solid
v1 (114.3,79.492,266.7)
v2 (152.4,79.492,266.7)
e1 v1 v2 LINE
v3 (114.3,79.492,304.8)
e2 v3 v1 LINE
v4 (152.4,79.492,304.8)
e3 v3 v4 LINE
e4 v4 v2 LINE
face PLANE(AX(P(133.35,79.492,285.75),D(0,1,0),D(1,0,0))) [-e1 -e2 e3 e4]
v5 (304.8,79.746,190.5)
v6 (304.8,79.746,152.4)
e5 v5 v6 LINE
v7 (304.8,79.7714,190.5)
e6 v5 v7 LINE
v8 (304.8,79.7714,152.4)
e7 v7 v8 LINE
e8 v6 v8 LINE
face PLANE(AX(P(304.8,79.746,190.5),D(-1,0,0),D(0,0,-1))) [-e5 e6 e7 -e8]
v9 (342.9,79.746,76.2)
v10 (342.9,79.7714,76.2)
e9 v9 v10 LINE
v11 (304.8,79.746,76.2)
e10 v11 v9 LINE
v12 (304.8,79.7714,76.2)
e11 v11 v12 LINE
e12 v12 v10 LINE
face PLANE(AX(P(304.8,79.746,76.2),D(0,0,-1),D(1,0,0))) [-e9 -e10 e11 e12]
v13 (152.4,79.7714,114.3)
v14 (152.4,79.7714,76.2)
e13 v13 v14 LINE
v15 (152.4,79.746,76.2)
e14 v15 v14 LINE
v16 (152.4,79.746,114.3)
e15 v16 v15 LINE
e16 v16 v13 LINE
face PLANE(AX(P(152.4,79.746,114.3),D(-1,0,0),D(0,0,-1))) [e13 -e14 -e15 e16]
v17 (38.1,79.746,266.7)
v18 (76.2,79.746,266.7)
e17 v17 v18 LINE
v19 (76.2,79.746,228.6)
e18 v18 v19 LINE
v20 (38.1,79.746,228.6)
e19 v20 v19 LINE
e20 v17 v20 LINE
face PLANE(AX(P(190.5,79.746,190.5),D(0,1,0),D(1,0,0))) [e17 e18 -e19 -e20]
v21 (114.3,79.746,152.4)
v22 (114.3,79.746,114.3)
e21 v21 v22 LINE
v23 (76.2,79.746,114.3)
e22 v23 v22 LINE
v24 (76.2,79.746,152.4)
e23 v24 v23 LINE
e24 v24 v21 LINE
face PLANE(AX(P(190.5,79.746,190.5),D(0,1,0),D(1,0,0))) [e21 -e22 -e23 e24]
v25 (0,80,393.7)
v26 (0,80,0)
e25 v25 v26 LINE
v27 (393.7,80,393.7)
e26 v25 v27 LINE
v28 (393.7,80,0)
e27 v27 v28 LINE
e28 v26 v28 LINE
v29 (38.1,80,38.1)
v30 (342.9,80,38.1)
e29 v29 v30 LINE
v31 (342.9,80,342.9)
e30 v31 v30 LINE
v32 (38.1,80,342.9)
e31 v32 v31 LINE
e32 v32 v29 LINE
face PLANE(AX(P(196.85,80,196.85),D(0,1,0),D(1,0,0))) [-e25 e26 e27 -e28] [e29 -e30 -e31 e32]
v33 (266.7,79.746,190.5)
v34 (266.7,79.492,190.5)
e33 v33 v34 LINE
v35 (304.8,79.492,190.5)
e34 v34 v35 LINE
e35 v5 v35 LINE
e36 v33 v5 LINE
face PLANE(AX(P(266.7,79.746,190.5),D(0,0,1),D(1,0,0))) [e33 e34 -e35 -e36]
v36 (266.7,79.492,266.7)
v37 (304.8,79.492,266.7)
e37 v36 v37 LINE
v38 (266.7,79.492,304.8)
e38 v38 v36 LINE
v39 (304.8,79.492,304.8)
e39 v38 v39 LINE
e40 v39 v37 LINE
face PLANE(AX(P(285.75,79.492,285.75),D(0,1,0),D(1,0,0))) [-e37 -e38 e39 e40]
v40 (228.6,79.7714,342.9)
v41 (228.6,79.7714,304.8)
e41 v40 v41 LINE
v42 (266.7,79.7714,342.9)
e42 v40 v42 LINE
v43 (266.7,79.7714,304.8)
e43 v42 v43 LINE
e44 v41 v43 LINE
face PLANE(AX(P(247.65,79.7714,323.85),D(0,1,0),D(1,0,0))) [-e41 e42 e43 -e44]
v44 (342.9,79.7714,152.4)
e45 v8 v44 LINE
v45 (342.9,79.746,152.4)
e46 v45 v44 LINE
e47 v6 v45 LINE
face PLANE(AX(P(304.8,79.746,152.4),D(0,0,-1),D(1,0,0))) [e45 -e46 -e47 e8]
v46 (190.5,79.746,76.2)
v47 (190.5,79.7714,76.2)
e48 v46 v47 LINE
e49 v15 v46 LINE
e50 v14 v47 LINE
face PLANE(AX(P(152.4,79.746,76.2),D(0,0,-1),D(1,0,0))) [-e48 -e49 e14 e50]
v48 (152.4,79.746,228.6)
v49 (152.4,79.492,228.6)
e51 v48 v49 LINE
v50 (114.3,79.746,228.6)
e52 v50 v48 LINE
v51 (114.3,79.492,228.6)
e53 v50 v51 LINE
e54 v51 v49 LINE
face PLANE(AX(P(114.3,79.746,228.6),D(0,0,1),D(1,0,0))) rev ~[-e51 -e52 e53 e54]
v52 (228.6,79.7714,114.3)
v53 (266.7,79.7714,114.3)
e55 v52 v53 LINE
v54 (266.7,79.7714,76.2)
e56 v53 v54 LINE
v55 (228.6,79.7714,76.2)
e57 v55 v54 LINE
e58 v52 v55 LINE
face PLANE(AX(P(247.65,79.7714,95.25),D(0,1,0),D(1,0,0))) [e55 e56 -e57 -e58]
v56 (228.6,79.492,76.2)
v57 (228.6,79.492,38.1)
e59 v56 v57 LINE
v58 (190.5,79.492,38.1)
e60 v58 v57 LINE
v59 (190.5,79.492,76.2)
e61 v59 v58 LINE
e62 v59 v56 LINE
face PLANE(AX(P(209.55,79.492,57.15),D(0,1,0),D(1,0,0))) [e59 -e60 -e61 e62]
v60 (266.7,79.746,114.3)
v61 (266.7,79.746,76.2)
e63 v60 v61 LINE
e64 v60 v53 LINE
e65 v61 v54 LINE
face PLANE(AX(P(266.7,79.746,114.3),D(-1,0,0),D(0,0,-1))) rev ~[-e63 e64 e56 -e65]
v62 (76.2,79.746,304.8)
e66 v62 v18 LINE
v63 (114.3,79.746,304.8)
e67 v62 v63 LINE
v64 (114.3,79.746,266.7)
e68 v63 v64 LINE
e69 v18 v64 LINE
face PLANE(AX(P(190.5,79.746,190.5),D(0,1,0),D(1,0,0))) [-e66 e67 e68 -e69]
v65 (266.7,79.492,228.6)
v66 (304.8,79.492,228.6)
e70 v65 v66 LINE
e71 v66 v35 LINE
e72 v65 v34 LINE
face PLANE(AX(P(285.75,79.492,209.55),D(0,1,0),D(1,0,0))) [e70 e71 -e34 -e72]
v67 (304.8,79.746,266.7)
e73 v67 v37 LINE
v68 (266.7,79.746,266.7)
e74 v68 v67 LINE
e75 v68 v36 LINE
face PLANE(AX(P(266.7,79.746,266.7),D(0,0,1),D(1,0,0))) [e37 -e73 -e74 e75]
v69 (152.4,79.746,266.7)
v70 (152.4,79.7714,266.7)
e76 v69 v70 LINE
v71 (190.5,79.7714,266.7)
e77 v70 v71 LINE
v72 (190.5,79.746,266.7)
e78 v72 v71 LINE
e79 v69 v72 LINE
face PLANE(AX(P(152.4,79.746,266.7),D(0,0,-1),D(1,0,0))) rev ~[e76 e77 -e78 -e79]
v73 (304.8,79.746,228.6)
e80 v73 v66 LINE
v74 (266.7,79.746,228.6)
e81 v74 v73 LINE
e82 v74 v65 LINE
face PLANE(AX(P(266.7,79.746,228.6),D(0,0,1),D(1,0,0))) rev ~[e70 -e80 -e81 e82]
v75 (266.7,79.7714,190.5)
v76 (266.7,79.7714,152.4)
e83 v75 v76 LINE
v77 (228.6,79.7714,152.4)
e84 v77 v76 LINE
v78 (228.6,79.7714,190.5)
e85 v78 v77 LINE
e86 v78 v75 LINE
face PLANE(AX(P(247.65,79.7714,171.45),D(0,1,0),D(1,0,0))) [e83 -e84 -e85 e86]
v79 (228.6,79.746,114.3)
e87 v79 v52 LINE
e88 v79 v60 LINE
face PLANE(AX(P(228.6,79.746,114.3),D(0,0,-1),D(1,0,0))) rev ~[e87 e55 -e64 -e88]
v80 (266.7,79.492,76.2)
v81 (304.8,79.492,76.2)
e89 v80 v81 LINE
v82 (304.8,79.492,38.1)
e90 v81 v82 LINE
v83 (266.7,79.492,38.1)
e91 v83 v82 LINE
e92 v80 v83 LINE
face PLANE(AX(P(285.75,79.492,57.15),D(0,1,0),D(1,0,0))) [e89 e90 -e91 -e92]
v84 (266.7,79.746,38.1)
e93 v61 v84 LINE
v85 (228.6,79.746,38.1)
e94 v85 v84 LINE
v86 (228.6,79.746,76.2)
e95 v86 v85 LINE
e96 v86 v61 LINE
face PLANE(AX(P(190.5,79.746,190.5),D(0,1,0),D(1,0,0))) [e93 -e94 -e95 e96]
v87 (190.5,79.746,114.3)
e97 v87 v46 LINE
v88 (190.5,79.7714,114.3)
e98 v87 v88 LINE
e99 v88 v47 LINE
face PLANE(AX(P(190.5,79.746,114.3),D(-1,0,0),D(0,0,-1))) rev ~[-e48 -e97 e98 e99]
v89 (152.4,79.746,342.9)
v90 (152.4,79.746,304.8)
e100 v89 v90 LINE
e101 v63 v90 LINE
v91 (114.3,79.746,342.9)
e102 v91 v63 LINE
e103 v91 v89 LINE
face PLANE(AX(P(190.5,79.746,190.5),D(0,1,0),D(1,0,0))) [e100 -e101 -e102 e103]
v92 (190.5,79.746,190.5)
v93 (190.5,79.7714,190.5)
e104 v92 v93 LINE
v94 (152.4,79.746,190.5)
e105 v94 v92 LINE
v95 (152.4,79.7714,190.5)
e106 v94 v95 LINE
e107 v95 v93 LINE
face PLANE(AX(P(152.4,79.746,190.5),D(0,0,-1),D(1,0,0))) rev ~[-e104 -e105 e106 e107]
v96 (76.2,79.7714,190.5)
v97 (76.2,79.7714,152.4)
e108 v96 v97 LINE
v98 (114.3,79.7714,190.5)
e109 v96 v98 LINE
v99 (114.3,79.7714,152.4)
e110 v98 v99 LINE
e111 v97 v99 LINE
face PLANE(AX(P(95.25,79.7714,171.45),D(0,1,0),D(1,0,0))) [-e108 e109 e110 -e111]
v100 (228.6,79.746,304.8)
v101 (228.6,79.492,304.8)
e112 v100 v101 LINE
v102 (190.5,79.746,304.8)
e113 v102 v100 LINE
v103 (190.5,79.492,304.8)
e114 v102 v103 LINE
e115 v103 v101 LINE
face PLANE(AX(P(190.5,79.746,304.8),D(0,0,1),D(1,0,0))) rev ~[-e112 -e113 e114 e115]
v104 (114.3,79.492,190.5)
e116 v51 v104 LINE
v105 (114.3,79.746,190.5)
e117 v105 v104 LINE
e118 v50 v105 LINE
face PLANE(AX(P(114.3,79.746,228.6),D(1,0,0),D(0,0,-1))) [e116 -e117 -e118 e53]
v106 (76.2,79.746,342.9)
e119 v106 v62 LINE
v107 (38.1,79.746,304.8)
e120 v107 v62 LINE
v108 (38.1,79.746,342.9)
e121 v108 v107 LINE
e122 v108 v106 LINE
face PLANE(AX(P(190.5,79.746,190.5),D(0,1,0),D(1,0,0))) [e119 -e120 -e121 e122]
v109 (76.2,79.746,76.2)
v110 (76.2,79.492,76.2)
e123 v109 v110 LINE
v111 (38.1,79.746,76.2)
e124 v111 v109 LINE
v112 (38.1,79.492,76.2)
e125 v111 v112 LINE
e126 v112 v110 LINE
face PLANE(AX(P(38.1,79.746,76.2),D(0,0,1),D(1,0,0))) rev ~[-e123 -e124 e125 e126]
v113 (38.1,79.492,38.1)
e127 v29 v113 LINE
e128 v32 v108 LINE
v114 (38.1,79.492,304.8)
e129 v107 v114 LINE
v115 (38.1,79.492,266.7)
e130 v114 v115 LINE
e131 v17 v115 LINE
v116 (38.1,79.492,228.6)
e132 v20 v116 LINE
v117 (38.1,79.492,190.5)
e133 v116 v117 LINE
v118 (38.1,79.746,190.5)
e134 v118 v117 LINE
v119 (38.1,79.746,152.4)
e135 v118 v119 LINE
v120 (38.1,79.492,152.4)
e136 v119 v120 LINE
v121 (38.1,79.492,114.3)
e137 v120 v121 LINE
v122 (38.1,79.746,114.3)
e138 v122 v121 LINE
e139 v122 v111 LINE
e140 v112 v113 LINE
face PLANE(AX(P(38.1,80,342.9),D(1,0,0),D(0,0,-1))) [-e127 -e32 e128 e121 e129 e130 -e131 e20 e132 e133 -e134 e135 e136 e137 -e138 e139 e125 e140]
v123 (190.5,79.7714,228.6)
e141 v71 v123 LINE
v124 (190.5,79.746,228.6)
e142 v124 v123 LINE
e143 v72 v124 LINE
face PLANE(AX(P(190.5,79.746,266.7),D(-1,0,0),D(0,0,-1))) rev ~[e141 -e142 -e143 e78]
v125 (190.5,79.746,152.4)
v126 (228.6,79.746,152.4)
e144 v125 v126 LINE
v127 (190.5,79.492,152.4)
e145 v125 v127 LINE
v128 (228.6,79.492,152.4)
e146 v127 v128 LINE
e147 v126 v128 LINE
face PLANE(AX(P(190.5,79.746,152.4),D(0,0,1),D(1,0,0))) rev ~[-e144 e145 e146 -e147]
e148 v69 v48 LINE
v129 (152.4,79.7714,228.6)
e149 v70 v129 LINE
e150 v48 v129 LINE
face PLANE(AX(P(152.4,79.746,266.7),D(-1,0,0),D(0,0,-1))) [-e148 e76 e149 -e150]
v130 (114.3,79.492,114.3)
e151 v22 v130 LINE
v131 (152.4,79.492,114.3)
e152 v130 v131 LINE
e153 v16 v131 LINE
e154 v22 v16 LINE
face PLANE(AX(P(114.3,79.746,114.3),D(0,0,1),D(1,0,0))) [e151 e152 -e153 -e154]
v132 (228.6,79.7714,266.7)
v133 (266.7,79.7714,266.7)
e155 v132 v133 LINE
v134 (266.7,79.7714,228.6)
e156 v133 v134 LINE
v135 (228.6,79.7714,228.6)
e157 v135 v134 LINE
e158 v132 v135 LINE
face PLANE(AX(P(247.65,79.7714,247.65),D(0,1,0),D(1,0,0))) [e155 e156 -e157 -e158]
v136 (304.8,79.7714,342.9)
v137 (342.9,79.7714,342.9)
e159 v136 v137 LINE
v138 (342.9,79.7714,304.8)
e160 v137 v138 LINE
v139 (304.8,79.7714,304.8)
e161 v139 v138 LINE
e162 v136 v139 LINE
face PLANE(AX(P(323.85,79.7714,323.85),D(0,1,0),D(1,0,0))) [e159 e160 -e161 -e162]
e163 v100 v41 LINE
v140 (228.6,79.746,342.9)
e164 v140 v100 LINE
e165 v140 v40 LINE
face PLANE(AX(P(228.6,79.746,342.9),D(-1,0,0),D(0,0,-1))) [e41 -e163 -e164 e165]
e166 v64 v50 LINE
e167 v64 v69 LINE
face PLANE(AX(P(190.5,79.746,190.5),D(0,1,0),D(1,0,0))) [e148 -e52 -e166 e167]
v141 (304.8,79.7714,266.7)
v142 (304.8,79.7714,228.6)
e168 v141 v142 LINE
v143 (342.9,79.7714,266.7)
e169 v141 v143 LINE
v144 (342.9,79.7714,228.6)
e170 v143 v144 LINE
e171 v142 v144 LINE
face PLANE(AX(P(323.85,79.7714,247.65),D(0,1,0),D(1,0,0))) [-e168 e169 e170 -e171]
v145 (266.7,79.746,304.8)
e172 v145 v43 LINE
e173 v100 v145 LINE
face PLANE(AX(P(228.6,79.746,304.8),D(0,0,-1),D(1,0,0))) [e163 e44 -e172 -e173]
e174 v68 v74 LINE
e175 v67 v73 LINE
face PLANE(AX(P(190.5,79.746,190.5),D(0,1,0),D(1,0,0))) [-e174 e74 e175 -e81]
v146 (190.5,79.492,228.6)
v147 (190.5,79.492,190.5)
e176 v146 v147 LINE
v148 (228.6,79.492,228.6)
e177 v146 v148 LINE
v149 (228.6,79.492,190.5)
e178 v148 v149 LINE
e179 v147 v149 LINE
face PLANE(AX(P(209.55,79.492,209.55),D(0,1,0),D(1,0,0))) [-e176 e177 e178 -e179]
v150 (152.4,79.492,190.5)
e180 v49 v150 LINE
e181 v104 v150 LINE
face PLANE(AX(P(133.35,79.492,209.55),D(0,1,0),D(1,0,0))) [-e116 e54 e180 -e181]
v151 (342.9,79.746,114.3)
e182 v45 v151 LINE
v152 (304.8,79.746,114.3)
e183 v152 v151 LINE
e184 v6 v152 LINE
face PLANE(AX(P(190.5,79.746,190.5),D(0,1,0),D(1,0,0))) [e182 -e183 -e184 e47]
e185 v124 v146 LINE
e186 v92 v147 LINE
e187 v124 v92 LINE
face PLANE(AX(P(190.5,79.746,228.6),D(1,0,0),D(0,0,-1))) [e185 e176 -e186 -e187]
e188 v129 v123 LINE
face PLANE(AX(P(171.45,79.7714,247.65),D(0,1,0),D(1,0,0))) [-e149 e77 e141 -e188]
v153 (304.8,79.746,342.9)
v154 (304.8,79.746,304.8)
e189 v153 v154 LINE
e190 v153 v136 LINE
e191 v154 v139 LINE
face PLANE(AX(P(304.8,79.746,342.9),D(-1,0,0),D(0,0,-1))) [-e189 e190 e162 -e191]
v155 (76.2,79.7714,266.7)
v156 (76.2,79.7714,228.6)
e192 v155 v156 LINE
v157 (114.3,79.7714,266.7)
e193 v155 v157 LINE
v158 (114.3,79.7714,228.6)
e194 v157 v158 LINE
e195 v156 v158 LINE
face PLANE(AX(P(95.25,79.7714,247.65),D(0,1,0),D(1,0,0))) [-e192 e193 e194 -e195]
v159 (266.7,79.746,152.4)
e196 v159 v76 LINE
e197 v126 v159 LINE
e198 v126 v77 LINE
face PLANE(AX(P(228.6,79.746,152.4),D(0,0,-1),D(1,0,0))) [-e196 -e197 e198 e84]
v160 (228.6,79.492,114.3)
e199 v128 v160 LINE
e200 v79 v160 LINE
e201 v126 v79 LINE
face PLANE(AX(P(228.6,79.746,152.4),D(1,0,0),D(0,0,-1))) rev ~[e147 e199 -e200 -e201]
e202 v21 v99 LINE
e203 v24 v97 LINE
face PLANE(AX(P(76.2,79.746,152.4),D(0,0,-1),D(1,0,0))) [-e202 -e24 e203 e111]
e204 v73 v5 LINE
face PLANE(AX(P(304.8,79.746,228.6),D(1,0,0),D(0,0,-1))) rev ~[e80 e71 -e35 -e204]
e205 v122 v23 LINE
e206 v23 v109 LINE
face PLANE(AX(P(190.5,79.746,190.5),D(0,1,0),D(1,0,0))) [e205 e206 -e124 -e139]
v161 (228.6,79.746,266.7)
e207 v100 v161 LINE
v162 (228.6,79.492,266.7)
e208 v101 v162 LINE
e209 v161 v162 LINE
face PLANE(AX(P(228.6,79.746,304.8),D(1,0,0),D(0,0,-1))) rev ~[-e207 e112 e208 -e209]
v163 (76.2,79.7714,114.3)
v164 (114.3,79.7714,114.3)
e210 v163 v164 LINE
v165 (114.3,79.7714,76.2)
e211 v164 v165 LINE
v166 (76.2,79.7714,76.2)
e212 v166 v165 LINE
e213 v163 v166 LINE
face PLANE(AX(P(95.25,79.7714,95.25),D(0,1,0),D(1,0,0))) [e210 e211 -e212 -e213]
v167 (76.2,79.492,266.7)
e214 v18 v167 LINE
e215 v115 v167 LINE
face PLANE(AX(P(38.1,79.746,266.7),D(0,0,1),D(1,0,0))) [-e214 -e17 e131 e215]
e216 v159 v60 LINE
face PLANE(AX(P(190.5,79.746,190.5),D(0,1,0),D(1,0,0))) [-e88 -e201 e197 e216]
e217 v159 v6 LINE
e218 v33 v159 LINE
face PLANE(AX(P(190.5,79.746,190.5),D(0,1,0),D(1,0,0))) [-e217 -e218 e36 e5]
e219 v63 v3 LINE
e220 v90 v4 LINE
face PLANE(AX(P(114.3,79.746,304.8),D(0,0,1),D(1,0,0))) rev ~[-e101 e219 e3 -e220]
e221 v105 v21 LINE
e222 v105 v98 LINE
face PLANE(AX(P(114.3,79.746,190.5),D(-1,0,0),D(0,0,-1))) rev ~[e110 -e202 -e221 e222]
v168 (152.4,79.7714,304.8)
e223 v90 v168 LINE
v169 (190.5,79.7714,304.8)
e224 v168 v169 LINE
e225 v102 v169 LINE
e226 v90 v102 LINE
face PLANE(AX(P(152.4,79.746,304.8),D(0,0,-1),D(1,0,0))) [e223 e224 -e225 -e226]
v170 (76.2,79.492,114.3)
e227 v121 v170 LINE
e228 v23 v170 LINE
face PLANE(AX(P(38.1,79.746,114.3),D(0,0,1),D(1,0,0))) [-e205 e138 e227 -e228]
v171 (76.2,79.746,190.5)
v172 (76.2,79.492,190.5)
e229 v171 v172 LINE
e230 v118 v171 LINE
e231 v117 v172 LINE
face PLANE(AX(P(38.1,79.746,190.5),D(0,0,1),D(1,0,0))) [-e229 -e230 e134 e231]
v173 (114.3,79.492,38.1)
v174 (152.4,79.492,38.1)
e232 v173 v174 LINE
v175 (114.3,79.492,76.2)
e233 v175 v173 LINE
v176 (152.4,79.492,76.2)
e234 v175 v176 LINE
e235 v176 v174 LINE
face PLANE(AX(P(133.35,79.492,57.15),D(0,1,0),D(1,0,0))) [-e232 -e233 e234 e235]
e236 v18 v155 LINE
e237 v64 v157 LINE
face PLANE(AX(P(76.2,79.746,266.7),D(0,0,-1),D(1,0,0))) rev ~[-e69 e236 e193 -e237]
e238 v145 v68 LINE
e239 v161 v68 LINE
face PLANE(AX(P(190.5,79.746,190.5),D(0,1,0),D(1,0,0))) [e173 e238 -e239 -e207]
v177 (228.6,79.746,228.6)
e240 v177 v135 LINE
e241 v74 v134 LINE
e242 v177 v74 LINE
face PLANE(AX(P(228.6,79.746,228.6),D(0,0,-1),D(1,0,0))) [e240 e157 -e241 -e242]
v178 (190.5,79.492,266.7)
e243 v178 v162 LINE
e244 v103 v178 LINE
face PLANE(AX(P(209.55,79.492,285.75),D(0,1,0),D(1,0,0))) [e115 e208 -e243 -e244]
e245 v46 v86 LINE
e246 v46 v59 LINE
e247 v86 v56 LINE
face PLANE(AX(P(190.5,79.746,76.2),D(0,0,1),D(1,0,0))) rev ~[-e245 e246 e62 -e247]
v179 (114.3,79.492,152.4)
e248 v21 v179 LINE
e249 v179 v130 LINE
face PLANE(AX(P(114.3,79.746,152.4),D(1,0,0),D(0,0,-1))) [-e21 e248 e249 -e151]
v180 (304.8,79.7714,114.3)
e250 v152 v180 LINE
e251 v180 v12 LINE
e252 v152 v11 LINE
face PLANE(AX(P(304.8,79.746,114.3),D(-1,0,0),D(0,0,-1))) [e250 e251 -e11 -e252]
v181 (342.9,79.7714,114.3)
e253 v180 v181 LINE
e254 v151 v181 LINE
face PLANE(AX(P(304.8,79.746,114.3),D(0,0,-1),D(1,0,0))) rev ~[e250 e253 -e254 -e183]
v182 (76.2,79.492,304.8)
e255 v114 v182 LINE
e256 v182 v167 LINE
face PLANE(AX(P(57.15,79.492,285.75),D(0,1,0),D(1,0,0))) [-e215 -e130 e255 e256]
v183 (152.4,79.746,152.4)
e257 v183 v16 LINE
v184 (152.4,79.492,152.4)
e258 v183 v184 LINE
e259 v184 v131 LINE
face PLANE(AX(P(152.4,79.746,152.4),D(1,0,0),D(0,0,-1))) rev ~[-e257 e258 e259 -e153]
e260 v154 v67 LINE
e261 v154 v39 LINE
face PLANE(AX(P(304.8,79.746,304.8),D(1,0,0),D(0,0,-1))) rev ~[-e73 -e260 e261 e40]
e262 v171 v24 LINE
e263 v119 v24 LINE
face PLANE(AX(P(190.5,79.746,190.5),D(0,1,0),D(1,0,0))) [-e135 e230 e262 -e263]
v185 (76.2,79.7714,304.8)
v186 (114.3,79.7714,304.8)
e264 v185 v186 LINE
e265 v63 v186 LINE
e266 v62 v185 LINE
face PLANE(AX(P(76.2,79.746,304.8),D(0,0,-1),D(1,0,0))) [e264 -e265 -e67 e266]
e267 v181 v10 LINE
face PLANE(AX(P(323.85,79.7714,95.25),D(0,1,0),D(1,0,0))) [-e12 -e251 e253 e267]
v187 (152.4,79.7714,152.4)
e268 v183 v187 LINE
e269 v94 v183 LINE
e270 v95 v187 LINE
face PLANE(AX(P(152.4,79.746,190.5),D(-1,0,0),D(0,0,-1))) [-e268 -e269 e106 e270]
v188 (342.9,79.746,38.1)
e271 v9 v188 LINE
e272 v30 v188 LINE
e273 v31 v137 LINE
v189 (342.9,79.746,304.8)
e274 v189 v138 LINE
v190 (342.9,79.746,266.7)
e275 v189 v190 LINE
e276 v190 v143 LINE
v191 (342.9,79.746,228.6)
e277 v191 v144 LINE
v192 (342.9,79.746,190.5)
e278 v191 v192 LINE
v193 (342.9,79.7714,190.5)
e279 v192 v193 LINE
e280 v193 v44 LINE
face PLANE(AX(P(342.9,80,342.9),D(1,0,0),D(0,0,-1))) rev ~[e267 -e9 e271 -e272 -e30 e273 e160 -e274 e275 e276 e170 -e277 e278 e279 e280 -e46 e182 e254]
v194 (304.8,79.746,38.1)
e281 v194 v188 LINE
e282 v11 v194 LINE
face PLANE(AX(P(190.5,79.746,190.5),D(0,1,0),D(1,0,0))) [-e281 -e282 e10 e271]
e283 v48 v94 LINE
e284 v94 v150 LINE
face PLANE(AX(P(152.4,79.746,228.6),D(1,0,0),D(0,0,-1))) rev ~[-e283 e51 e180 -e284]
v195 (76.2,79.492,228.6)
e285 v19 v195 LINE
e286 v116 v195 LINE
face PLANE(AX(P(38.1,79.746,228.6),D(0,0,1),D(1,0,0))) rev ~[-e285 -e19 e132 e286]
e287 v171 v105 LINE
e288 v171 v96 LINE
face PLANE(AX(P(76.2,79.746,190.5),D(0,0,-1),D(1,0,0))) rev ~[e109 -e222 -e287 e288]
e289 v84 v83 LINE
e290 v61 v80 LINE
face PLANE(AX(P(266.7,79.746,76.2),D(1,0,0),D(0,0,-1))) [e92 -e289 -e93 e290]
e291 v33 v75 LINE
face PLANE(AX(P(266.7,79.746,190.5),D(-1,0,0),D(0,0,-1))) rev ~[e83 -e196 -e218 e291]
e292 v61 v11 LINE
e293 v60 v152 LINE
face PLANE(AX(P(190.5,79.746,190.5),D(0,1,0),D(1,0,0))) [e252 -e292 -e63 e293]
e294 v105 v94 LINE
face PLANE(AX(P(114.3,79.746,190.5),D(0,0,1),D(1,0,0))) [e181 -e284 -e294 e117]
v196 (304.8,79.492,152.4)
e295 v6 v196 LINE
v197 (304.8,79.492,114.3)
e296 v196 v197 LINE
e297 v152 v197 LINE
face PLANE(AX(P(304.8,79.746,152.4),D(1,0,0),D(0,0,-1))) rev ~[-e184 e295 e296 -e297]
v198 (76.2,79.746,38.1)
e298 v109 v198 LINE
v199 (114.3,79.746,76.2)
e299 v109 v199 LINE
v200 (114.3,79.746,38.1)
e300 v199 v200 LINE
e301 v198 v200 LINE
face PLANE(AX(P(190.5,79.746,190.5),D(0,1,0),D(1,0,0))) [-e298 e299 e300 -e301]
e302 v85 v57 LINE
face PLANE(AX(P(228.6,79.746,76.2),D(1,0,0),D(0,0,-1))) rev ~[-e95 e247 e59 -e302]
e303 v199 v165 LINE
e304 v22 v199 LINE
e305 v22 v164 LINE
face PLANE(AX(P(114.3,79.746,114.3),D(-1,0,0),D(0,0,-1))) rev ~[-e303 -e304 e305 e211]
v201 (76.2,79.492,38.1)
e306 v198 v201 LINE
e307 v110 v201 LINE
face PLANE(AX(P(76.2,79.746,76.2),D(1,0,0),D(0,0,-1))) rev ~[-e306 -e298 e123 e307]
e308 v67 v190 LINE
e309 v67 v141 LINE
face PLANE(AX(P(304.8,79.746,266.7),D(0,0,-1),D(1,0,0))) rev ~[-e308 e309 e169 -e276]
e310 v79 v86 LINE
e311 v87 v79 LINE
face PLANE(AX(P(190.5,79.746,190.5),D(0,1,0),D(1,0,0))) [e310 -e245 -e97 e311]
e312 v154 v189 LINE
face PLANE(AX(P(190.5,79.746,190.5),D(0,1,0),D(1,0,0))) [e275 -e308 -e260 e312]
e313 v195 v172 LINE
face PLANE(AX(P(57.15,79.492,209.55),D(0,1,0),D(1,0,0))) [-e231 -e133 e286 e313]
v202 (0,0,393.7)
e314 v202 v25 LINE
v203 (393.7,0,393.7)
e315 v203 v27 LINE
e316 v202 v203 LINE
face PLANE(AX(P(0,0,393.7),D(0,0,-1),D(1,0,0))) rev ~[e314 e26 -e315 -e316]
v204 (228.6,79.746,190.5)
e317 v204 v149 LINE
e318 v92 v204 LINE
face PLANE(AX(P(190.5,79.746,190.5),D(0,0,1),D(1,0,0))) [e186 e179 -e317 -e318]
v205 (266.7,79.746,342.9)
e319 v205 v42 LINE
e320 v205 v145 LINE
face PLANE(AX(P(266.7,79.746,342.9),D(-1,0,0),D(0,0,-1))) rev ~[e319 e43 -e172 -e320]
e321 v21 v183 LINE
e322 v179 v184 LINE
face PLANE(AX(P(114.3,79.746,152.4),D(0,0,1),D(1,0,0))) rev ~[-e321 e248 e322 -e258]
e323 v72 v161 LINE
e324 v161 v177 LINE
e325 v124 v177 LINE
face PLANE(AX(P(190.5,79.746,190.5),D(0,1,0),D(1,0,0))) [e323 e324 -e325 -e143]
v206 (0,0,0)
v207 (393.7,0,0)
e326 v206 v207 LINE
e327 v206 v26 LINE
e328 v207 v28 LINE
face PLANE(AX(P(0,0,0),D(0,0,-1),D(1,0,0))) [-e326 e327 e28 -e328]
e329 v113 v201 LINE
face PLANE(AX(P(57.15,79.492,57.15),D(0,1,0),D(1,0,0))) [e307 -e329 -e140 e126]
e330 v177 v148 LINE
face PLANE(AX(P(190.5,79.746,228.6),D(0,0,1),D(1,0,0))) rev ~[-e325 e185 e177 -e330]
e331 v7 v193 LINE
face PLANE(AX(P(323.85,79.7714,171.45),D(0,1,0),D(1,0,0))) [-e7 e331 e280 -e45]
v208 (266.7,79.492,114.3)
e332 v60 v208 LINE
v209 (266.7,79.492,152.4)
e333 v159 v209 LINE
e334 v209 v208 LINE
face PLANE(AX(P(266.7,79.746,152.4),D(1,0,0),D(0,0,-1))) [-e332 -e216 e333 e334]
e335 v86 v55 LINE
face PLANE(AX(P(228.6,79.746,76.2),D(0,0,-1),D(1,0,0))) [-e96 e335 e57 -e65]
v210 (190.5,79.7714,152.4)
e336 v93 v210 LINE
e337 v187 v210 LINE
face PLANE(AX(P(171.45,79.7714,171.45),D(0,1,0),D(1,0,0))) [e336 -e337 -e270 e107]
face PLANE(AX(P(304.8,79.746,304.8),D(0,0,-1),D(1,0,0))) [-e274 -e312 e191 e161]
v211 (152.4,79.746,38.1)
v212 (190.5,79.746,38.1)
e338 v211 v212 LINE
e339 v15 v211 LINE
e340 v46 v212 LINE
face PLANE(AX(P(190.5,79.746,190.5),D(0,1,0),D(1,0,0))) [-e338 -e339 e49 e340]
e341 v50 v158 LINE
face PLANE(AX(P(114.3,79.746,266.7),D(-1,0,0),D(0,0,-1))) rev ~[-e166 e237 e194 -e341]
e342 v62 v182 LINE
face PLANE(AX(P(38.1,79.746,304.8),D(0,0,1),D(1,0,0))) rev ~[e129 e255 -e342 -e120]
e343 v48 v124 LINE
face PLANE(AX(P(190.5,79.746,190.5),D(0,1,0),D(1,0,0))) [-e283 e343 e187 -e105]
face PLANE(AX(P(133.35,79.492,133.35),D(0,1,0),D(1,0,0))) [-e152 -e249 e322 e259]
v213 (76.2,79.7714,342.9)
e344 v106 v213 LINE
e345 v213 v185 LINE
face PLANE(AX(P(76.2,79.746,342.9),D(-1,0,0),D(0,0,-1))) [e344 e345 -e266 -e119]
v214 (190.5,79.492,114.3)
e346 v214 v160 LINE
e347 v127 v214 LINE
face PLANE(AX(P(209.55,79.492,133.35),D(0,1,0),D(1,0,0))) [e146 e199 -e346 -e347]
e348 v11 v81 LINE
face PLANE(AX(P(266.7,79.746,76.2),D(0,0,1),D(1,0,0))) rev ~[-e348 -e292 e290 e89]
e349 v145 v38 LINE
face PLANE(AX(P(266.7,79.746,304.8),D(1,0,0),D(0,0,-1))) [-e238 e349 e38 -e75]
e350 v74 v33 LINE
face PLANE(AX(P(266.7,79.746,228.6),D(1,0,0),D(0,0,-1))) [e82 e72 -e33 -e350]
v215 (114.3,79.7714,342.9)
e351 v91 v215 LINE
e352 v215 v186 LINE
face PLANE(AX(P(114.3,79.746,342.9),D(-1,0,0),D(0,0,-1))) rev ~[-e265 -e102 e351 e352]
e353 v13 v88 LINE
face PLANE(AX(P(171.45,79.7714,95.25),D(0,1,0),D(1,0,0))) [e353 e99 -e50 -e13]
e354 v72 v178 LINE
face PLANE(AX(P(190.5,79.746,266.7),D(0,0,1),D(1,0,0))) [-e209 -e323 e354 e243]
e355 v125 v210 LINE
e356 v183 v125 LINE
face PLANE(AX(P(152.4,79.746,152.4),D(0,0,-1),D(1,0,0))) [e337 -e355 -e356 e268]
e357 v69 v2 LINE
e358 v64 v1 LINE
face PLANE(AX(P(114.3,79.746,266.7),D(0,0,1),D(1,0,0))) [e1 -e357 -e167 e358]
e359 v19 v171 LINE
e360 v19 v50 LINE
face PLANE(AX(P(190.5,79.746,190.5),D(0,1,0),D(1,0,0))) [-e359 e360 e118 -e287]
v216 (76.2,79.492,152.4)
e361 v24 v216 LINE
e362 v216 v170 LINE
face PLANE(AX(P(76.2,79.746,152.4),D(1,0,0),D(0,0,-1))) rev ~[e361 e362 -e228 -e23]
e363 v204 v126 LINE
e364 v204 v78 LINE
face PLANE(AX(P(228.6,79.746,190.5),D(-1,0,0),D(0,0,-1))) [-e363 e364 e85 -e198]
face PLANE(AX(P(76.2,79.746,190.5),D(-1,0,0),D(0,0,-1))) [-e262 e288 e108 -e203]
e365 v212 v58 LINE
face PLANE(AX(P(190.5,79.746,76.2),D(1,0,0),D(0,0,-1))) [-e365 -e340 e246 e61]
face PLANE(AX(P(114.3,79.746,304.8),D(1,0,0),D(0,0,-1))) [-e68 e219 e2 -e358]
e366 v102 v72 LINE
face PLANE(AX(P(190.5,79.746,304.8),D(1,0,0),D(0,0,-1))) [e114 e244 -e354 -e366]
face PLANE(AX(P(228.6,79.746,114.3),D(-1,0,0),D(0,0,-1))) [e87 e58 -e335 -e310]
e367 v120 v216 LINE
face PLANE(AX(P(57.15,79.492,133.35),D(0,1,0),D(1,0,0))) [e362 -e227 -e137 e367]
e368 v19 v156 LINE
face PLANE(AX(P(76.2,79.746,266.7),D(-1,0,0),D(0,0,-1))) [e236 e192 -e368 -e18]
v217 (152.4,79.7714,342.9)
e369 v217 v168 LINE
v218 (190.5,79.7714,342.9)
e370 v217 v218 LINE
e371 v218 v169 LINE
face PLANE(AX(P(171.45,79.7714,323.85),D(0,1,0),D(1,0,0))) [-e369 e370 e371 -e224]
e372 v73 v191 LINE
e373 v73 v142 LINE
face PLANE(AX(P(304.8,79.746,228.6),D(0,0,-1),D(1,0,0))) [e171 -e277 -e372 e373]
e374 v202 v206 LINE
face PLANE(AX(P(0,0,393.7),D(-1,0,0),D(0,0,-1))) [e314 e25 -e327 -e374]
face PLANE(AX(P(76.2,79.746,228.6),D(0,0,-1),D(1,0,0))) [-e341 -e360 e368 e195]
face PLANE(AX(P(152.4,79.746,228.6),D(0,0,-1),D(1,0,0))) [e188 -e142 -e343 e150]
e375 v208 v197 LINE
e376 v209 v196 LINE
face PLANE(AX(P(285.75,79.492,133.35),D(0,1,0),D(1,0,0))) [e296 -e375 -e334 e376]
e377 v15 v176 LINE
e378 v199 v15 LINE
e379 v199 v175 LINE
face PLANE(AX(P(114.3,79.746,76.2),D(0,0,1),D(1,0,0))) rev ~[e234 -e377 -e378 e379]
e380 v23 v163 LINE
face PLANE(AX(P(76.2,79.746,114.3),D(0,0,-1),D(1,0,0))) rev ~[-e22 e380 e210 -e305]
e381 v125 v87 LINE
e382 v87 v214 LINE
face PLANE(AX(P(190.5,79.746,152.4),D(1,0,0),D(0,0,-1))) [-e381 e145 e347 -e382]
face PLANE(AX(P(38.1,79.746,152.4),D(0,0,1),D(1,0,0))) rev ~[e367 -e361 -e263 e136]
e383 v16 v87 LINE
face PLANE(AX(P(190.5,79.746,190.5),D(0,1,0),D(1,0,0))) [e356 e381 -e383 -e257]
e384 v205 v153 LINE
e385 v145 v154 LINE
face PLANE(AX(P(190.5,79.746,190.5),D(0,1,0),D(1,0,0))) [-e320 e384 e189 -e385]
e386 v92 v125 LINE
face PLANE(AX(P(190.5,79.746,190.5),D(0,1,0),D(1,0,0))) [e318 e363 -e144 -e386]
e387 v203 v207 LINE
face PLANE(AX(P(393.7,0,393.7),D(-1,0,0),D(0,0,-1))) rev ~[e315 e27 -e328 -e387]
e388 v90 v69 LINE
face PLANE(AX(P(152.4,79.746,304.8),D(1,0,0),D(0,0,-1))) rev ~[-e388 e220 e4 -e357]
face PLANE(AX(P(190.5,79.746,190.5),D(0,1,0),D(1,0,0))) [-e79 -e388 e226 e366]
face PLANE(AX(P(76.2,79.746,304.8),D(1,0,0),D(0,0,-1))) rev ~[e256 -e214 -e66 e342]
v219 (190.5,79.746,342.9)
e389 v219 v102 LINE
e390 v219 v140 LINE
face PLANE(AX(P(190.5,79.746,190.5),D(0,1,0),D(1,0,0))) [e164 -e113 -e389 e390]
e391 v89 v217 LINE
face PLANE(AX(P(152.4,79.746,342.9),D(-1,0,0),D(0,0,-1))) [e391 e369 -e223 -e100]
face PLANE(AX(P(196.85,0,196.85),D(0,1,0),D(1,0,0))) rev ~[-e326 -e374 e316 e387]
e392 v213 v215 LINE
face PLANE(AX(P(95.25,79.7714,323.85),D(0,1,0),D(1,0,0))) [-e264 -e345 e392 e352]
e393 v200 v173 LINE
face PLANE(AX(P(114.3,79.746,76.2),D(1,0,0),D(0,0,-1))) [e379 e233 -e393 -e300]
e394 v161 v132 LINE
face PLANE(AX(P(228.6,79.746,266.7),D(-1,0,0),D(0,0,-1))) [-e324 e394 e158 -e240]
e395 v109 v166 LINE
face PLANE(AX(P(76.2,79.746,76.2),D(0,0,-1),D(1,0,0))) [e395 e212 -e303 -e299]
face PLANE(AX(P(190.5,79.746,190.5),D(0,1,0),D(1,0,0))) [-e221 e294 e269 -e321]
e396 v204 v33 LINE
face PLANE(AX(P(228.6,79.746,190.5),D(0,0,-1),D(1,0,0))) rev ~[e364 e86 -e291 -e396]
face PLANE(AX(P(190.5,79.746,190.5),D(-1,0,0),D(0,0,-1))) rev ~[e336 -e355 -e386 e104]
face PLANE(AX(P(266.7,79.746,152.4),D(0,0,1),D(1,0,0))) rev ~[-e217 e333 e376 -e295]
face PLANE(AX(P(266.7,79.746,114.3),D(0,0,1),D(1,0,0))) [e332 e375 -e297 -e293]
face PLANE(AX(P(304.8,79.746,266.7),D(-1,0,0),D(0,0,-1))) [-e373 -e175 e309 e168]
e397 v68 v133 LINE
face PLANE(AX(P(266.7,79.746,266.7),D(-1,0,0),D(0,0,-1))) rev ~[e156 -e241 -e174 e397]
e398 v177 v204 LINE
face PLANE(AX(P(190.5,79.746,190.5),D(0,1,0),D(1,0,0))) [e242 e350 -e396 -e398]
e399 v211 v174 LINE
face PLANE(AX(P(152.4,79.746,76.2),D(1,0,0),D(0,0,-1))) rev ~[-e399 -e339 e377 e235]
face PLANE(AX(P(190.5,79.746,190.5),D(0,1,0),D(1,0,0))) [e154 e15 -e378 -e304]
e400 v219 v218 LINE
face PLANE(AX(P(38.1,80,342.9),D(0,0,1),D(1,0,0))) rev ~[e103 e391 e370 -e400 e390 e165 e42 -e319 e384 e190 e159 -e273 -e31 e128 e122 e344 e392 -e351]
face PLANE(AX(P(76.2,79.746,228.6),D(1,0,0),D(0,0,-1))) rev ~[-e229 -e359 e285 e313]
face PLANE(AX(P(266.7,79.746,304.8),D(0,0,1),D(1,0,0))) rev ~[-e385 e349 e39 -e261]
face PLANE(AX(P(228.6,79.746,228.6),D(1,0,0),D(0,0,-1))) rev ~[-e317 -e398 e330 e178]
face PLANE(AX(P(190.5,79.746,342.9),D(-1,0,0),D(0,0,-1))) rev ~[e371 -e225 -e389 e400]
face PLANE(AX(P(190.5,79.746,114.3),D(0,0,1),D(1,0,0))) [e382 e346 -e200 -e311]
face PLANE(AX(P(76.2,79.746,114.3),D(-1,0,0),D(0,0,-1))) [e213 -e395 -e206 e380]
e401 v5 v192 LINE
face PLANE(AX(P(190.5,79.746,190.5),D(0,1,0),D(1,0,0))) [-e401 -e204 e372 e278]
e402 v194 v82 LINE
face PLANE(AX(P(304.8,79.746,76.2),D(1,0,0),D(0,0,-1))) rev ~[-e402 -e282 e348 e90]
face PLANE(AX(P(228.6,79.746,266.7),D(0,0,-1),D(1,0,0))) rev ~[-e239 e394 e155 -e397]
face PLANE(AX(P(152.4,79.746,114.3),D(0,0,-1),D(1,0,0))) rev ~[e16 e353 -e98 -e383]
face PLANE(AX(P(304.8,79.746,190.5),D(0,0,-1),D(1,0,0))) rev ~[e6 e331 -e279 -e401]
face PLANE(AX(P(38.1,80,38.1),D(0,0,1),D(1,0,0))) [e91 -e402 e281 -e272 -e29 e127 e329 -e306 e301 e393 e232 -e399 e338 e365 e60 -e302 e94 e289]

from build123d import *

# Parameters (mm, degrees)
SKETCH1_W                       = 393.7
SKETCH1_H                       = 393.7
BOSS_EXTRUDE1_DEPTH             = 80
ESQUISSE1_W                     = 304.8
ESQUISSE1_H                     = 304.8
ENL_V_MAT_EXTRU_1_DEPTH         = 0.254
ESQUISSE4_W                     = 38.1
ESQUISSE4_H                     = 38.1
ENL_V_MAT_EXTRU_2_DEPTH         = 0.254
R_P_TITION_LIN_AIRE1_COUNT      = 4
R_P_TITION_LIN_AIRE1_PITCH      = 76.2
R_P_TITION_LIN_AIRE1_COUNT_DIR2 = 4
R_P_TITION_LIN_AIRE1_PITCH_DIR2 = 76.2
ESQUISSE5_W                     = 38.1
ESQUISSE5_H                     = 38.1
BOSS_EXTRU_1_DEPTH              = 0.0254
R_P_TITION_LIN_AIRE2_COUNT      = 4
R_P_TITION_LIN_AIRE2_PITCH      = 76.2
R_P_TITION_LIN_AIRE2_COUNT_DIR2 = 4
R_P_TITION_LIN_AIRE2_PITCH_DIR2 = 76.2


with BuildPart() as part:
    # Sketch1 → Boss-Extrude1 (new body)
    with BuildSketch(Plane(origin=(0, 0, 0), x_dir=(1, 0, 0), z_dir=(0, 1, 0))):
        with Locations((196.85, -196.85)):
            Rectangle(SKETCH1_W, SKETCH1_H)
    extrude(amount=BOSS_EXTRUDE1_DEPTH)

    # Esquisse1 → Enlèv. mat.-Extru.1 (cut)
    with BuildSketch(Plane(origin=(0, 80, 0), x_dir=(1, 0, 0), z_dir=(0, 1, 0))):
        with Locations((190.5, -190.5)):
            Rectangle(ESQUISSE1_W, ESQUISSE1_H)
    extrude(amount=-ENL_V_MAT_EXTRU_1_DEPTH, mode=Mode.SUBTRACT)

    # Esquisse4 → Enlèv. mat.-Extru.2 (cut)
    with BuildSketch(Plane(origin=(0, 79.746, 0), x_dir=(1, 0, 0), z_dir=(0, 1, 0))):
        with Locations((57.15, -57.15)):
            Rectangle(ESQUISSE4_W, ESQUISSE4_H)
    enl_v_mat_extru_2 = extrude(amount=-ENL_V_MAT_EXTRU_2_DEPTH, mode=Mode.SUBTRACT)

    # Répétition linéaire1: Enl_v. mat.-Extru.2 4 × 4
    with Locations(*[(i * R_P_TITION_LIN_AIRE1_PITCH, 0, j * R_P_TITION_LIN_AIRE1_PITCH_DIR2) for i in range(R_P_TITION_LIN_AIRE1_COUNT) for j in range(R_P_TITION_LIN_AIRE1_COUNT_DIR2) if (i, j) != (0, 0)]):
        add(enl_v_mat_extru_2, mode=Mode.SUBTRACT)

    # Esquisse5 → Boss.-Extru.1 (add)
    with BuildSketch(Plane(origin=(0, 79.746, 0), x_dir=(1, 0, 0), z_dir=(0, 1, 0))):
        with Locations((95.25, -95.25)):
            Rectangle(ESQUISSE5_W, ESQUISSE5_H)
    boss_extru_1 = extrude(amount=BOSS_EXTRU_1_DEPTH)

    # Répétition linéaire2: Boss.-Extru.1 4 × 4
    with Locations(*[(j * R_P_TITION_LIN_AIRE2_PITCH_DIR2, 0, i * R_P_TITION_LIN_AIRE2_PITCH) for i in range(R_P_TITION_LIN_AIRE2_COUNT) for j in range(R_P_TITION_LIN_AIRE2_COUNT_DIR2) if (i, j) != (0, 0)]):
        add(boss_extru_1)


solid = part.part
